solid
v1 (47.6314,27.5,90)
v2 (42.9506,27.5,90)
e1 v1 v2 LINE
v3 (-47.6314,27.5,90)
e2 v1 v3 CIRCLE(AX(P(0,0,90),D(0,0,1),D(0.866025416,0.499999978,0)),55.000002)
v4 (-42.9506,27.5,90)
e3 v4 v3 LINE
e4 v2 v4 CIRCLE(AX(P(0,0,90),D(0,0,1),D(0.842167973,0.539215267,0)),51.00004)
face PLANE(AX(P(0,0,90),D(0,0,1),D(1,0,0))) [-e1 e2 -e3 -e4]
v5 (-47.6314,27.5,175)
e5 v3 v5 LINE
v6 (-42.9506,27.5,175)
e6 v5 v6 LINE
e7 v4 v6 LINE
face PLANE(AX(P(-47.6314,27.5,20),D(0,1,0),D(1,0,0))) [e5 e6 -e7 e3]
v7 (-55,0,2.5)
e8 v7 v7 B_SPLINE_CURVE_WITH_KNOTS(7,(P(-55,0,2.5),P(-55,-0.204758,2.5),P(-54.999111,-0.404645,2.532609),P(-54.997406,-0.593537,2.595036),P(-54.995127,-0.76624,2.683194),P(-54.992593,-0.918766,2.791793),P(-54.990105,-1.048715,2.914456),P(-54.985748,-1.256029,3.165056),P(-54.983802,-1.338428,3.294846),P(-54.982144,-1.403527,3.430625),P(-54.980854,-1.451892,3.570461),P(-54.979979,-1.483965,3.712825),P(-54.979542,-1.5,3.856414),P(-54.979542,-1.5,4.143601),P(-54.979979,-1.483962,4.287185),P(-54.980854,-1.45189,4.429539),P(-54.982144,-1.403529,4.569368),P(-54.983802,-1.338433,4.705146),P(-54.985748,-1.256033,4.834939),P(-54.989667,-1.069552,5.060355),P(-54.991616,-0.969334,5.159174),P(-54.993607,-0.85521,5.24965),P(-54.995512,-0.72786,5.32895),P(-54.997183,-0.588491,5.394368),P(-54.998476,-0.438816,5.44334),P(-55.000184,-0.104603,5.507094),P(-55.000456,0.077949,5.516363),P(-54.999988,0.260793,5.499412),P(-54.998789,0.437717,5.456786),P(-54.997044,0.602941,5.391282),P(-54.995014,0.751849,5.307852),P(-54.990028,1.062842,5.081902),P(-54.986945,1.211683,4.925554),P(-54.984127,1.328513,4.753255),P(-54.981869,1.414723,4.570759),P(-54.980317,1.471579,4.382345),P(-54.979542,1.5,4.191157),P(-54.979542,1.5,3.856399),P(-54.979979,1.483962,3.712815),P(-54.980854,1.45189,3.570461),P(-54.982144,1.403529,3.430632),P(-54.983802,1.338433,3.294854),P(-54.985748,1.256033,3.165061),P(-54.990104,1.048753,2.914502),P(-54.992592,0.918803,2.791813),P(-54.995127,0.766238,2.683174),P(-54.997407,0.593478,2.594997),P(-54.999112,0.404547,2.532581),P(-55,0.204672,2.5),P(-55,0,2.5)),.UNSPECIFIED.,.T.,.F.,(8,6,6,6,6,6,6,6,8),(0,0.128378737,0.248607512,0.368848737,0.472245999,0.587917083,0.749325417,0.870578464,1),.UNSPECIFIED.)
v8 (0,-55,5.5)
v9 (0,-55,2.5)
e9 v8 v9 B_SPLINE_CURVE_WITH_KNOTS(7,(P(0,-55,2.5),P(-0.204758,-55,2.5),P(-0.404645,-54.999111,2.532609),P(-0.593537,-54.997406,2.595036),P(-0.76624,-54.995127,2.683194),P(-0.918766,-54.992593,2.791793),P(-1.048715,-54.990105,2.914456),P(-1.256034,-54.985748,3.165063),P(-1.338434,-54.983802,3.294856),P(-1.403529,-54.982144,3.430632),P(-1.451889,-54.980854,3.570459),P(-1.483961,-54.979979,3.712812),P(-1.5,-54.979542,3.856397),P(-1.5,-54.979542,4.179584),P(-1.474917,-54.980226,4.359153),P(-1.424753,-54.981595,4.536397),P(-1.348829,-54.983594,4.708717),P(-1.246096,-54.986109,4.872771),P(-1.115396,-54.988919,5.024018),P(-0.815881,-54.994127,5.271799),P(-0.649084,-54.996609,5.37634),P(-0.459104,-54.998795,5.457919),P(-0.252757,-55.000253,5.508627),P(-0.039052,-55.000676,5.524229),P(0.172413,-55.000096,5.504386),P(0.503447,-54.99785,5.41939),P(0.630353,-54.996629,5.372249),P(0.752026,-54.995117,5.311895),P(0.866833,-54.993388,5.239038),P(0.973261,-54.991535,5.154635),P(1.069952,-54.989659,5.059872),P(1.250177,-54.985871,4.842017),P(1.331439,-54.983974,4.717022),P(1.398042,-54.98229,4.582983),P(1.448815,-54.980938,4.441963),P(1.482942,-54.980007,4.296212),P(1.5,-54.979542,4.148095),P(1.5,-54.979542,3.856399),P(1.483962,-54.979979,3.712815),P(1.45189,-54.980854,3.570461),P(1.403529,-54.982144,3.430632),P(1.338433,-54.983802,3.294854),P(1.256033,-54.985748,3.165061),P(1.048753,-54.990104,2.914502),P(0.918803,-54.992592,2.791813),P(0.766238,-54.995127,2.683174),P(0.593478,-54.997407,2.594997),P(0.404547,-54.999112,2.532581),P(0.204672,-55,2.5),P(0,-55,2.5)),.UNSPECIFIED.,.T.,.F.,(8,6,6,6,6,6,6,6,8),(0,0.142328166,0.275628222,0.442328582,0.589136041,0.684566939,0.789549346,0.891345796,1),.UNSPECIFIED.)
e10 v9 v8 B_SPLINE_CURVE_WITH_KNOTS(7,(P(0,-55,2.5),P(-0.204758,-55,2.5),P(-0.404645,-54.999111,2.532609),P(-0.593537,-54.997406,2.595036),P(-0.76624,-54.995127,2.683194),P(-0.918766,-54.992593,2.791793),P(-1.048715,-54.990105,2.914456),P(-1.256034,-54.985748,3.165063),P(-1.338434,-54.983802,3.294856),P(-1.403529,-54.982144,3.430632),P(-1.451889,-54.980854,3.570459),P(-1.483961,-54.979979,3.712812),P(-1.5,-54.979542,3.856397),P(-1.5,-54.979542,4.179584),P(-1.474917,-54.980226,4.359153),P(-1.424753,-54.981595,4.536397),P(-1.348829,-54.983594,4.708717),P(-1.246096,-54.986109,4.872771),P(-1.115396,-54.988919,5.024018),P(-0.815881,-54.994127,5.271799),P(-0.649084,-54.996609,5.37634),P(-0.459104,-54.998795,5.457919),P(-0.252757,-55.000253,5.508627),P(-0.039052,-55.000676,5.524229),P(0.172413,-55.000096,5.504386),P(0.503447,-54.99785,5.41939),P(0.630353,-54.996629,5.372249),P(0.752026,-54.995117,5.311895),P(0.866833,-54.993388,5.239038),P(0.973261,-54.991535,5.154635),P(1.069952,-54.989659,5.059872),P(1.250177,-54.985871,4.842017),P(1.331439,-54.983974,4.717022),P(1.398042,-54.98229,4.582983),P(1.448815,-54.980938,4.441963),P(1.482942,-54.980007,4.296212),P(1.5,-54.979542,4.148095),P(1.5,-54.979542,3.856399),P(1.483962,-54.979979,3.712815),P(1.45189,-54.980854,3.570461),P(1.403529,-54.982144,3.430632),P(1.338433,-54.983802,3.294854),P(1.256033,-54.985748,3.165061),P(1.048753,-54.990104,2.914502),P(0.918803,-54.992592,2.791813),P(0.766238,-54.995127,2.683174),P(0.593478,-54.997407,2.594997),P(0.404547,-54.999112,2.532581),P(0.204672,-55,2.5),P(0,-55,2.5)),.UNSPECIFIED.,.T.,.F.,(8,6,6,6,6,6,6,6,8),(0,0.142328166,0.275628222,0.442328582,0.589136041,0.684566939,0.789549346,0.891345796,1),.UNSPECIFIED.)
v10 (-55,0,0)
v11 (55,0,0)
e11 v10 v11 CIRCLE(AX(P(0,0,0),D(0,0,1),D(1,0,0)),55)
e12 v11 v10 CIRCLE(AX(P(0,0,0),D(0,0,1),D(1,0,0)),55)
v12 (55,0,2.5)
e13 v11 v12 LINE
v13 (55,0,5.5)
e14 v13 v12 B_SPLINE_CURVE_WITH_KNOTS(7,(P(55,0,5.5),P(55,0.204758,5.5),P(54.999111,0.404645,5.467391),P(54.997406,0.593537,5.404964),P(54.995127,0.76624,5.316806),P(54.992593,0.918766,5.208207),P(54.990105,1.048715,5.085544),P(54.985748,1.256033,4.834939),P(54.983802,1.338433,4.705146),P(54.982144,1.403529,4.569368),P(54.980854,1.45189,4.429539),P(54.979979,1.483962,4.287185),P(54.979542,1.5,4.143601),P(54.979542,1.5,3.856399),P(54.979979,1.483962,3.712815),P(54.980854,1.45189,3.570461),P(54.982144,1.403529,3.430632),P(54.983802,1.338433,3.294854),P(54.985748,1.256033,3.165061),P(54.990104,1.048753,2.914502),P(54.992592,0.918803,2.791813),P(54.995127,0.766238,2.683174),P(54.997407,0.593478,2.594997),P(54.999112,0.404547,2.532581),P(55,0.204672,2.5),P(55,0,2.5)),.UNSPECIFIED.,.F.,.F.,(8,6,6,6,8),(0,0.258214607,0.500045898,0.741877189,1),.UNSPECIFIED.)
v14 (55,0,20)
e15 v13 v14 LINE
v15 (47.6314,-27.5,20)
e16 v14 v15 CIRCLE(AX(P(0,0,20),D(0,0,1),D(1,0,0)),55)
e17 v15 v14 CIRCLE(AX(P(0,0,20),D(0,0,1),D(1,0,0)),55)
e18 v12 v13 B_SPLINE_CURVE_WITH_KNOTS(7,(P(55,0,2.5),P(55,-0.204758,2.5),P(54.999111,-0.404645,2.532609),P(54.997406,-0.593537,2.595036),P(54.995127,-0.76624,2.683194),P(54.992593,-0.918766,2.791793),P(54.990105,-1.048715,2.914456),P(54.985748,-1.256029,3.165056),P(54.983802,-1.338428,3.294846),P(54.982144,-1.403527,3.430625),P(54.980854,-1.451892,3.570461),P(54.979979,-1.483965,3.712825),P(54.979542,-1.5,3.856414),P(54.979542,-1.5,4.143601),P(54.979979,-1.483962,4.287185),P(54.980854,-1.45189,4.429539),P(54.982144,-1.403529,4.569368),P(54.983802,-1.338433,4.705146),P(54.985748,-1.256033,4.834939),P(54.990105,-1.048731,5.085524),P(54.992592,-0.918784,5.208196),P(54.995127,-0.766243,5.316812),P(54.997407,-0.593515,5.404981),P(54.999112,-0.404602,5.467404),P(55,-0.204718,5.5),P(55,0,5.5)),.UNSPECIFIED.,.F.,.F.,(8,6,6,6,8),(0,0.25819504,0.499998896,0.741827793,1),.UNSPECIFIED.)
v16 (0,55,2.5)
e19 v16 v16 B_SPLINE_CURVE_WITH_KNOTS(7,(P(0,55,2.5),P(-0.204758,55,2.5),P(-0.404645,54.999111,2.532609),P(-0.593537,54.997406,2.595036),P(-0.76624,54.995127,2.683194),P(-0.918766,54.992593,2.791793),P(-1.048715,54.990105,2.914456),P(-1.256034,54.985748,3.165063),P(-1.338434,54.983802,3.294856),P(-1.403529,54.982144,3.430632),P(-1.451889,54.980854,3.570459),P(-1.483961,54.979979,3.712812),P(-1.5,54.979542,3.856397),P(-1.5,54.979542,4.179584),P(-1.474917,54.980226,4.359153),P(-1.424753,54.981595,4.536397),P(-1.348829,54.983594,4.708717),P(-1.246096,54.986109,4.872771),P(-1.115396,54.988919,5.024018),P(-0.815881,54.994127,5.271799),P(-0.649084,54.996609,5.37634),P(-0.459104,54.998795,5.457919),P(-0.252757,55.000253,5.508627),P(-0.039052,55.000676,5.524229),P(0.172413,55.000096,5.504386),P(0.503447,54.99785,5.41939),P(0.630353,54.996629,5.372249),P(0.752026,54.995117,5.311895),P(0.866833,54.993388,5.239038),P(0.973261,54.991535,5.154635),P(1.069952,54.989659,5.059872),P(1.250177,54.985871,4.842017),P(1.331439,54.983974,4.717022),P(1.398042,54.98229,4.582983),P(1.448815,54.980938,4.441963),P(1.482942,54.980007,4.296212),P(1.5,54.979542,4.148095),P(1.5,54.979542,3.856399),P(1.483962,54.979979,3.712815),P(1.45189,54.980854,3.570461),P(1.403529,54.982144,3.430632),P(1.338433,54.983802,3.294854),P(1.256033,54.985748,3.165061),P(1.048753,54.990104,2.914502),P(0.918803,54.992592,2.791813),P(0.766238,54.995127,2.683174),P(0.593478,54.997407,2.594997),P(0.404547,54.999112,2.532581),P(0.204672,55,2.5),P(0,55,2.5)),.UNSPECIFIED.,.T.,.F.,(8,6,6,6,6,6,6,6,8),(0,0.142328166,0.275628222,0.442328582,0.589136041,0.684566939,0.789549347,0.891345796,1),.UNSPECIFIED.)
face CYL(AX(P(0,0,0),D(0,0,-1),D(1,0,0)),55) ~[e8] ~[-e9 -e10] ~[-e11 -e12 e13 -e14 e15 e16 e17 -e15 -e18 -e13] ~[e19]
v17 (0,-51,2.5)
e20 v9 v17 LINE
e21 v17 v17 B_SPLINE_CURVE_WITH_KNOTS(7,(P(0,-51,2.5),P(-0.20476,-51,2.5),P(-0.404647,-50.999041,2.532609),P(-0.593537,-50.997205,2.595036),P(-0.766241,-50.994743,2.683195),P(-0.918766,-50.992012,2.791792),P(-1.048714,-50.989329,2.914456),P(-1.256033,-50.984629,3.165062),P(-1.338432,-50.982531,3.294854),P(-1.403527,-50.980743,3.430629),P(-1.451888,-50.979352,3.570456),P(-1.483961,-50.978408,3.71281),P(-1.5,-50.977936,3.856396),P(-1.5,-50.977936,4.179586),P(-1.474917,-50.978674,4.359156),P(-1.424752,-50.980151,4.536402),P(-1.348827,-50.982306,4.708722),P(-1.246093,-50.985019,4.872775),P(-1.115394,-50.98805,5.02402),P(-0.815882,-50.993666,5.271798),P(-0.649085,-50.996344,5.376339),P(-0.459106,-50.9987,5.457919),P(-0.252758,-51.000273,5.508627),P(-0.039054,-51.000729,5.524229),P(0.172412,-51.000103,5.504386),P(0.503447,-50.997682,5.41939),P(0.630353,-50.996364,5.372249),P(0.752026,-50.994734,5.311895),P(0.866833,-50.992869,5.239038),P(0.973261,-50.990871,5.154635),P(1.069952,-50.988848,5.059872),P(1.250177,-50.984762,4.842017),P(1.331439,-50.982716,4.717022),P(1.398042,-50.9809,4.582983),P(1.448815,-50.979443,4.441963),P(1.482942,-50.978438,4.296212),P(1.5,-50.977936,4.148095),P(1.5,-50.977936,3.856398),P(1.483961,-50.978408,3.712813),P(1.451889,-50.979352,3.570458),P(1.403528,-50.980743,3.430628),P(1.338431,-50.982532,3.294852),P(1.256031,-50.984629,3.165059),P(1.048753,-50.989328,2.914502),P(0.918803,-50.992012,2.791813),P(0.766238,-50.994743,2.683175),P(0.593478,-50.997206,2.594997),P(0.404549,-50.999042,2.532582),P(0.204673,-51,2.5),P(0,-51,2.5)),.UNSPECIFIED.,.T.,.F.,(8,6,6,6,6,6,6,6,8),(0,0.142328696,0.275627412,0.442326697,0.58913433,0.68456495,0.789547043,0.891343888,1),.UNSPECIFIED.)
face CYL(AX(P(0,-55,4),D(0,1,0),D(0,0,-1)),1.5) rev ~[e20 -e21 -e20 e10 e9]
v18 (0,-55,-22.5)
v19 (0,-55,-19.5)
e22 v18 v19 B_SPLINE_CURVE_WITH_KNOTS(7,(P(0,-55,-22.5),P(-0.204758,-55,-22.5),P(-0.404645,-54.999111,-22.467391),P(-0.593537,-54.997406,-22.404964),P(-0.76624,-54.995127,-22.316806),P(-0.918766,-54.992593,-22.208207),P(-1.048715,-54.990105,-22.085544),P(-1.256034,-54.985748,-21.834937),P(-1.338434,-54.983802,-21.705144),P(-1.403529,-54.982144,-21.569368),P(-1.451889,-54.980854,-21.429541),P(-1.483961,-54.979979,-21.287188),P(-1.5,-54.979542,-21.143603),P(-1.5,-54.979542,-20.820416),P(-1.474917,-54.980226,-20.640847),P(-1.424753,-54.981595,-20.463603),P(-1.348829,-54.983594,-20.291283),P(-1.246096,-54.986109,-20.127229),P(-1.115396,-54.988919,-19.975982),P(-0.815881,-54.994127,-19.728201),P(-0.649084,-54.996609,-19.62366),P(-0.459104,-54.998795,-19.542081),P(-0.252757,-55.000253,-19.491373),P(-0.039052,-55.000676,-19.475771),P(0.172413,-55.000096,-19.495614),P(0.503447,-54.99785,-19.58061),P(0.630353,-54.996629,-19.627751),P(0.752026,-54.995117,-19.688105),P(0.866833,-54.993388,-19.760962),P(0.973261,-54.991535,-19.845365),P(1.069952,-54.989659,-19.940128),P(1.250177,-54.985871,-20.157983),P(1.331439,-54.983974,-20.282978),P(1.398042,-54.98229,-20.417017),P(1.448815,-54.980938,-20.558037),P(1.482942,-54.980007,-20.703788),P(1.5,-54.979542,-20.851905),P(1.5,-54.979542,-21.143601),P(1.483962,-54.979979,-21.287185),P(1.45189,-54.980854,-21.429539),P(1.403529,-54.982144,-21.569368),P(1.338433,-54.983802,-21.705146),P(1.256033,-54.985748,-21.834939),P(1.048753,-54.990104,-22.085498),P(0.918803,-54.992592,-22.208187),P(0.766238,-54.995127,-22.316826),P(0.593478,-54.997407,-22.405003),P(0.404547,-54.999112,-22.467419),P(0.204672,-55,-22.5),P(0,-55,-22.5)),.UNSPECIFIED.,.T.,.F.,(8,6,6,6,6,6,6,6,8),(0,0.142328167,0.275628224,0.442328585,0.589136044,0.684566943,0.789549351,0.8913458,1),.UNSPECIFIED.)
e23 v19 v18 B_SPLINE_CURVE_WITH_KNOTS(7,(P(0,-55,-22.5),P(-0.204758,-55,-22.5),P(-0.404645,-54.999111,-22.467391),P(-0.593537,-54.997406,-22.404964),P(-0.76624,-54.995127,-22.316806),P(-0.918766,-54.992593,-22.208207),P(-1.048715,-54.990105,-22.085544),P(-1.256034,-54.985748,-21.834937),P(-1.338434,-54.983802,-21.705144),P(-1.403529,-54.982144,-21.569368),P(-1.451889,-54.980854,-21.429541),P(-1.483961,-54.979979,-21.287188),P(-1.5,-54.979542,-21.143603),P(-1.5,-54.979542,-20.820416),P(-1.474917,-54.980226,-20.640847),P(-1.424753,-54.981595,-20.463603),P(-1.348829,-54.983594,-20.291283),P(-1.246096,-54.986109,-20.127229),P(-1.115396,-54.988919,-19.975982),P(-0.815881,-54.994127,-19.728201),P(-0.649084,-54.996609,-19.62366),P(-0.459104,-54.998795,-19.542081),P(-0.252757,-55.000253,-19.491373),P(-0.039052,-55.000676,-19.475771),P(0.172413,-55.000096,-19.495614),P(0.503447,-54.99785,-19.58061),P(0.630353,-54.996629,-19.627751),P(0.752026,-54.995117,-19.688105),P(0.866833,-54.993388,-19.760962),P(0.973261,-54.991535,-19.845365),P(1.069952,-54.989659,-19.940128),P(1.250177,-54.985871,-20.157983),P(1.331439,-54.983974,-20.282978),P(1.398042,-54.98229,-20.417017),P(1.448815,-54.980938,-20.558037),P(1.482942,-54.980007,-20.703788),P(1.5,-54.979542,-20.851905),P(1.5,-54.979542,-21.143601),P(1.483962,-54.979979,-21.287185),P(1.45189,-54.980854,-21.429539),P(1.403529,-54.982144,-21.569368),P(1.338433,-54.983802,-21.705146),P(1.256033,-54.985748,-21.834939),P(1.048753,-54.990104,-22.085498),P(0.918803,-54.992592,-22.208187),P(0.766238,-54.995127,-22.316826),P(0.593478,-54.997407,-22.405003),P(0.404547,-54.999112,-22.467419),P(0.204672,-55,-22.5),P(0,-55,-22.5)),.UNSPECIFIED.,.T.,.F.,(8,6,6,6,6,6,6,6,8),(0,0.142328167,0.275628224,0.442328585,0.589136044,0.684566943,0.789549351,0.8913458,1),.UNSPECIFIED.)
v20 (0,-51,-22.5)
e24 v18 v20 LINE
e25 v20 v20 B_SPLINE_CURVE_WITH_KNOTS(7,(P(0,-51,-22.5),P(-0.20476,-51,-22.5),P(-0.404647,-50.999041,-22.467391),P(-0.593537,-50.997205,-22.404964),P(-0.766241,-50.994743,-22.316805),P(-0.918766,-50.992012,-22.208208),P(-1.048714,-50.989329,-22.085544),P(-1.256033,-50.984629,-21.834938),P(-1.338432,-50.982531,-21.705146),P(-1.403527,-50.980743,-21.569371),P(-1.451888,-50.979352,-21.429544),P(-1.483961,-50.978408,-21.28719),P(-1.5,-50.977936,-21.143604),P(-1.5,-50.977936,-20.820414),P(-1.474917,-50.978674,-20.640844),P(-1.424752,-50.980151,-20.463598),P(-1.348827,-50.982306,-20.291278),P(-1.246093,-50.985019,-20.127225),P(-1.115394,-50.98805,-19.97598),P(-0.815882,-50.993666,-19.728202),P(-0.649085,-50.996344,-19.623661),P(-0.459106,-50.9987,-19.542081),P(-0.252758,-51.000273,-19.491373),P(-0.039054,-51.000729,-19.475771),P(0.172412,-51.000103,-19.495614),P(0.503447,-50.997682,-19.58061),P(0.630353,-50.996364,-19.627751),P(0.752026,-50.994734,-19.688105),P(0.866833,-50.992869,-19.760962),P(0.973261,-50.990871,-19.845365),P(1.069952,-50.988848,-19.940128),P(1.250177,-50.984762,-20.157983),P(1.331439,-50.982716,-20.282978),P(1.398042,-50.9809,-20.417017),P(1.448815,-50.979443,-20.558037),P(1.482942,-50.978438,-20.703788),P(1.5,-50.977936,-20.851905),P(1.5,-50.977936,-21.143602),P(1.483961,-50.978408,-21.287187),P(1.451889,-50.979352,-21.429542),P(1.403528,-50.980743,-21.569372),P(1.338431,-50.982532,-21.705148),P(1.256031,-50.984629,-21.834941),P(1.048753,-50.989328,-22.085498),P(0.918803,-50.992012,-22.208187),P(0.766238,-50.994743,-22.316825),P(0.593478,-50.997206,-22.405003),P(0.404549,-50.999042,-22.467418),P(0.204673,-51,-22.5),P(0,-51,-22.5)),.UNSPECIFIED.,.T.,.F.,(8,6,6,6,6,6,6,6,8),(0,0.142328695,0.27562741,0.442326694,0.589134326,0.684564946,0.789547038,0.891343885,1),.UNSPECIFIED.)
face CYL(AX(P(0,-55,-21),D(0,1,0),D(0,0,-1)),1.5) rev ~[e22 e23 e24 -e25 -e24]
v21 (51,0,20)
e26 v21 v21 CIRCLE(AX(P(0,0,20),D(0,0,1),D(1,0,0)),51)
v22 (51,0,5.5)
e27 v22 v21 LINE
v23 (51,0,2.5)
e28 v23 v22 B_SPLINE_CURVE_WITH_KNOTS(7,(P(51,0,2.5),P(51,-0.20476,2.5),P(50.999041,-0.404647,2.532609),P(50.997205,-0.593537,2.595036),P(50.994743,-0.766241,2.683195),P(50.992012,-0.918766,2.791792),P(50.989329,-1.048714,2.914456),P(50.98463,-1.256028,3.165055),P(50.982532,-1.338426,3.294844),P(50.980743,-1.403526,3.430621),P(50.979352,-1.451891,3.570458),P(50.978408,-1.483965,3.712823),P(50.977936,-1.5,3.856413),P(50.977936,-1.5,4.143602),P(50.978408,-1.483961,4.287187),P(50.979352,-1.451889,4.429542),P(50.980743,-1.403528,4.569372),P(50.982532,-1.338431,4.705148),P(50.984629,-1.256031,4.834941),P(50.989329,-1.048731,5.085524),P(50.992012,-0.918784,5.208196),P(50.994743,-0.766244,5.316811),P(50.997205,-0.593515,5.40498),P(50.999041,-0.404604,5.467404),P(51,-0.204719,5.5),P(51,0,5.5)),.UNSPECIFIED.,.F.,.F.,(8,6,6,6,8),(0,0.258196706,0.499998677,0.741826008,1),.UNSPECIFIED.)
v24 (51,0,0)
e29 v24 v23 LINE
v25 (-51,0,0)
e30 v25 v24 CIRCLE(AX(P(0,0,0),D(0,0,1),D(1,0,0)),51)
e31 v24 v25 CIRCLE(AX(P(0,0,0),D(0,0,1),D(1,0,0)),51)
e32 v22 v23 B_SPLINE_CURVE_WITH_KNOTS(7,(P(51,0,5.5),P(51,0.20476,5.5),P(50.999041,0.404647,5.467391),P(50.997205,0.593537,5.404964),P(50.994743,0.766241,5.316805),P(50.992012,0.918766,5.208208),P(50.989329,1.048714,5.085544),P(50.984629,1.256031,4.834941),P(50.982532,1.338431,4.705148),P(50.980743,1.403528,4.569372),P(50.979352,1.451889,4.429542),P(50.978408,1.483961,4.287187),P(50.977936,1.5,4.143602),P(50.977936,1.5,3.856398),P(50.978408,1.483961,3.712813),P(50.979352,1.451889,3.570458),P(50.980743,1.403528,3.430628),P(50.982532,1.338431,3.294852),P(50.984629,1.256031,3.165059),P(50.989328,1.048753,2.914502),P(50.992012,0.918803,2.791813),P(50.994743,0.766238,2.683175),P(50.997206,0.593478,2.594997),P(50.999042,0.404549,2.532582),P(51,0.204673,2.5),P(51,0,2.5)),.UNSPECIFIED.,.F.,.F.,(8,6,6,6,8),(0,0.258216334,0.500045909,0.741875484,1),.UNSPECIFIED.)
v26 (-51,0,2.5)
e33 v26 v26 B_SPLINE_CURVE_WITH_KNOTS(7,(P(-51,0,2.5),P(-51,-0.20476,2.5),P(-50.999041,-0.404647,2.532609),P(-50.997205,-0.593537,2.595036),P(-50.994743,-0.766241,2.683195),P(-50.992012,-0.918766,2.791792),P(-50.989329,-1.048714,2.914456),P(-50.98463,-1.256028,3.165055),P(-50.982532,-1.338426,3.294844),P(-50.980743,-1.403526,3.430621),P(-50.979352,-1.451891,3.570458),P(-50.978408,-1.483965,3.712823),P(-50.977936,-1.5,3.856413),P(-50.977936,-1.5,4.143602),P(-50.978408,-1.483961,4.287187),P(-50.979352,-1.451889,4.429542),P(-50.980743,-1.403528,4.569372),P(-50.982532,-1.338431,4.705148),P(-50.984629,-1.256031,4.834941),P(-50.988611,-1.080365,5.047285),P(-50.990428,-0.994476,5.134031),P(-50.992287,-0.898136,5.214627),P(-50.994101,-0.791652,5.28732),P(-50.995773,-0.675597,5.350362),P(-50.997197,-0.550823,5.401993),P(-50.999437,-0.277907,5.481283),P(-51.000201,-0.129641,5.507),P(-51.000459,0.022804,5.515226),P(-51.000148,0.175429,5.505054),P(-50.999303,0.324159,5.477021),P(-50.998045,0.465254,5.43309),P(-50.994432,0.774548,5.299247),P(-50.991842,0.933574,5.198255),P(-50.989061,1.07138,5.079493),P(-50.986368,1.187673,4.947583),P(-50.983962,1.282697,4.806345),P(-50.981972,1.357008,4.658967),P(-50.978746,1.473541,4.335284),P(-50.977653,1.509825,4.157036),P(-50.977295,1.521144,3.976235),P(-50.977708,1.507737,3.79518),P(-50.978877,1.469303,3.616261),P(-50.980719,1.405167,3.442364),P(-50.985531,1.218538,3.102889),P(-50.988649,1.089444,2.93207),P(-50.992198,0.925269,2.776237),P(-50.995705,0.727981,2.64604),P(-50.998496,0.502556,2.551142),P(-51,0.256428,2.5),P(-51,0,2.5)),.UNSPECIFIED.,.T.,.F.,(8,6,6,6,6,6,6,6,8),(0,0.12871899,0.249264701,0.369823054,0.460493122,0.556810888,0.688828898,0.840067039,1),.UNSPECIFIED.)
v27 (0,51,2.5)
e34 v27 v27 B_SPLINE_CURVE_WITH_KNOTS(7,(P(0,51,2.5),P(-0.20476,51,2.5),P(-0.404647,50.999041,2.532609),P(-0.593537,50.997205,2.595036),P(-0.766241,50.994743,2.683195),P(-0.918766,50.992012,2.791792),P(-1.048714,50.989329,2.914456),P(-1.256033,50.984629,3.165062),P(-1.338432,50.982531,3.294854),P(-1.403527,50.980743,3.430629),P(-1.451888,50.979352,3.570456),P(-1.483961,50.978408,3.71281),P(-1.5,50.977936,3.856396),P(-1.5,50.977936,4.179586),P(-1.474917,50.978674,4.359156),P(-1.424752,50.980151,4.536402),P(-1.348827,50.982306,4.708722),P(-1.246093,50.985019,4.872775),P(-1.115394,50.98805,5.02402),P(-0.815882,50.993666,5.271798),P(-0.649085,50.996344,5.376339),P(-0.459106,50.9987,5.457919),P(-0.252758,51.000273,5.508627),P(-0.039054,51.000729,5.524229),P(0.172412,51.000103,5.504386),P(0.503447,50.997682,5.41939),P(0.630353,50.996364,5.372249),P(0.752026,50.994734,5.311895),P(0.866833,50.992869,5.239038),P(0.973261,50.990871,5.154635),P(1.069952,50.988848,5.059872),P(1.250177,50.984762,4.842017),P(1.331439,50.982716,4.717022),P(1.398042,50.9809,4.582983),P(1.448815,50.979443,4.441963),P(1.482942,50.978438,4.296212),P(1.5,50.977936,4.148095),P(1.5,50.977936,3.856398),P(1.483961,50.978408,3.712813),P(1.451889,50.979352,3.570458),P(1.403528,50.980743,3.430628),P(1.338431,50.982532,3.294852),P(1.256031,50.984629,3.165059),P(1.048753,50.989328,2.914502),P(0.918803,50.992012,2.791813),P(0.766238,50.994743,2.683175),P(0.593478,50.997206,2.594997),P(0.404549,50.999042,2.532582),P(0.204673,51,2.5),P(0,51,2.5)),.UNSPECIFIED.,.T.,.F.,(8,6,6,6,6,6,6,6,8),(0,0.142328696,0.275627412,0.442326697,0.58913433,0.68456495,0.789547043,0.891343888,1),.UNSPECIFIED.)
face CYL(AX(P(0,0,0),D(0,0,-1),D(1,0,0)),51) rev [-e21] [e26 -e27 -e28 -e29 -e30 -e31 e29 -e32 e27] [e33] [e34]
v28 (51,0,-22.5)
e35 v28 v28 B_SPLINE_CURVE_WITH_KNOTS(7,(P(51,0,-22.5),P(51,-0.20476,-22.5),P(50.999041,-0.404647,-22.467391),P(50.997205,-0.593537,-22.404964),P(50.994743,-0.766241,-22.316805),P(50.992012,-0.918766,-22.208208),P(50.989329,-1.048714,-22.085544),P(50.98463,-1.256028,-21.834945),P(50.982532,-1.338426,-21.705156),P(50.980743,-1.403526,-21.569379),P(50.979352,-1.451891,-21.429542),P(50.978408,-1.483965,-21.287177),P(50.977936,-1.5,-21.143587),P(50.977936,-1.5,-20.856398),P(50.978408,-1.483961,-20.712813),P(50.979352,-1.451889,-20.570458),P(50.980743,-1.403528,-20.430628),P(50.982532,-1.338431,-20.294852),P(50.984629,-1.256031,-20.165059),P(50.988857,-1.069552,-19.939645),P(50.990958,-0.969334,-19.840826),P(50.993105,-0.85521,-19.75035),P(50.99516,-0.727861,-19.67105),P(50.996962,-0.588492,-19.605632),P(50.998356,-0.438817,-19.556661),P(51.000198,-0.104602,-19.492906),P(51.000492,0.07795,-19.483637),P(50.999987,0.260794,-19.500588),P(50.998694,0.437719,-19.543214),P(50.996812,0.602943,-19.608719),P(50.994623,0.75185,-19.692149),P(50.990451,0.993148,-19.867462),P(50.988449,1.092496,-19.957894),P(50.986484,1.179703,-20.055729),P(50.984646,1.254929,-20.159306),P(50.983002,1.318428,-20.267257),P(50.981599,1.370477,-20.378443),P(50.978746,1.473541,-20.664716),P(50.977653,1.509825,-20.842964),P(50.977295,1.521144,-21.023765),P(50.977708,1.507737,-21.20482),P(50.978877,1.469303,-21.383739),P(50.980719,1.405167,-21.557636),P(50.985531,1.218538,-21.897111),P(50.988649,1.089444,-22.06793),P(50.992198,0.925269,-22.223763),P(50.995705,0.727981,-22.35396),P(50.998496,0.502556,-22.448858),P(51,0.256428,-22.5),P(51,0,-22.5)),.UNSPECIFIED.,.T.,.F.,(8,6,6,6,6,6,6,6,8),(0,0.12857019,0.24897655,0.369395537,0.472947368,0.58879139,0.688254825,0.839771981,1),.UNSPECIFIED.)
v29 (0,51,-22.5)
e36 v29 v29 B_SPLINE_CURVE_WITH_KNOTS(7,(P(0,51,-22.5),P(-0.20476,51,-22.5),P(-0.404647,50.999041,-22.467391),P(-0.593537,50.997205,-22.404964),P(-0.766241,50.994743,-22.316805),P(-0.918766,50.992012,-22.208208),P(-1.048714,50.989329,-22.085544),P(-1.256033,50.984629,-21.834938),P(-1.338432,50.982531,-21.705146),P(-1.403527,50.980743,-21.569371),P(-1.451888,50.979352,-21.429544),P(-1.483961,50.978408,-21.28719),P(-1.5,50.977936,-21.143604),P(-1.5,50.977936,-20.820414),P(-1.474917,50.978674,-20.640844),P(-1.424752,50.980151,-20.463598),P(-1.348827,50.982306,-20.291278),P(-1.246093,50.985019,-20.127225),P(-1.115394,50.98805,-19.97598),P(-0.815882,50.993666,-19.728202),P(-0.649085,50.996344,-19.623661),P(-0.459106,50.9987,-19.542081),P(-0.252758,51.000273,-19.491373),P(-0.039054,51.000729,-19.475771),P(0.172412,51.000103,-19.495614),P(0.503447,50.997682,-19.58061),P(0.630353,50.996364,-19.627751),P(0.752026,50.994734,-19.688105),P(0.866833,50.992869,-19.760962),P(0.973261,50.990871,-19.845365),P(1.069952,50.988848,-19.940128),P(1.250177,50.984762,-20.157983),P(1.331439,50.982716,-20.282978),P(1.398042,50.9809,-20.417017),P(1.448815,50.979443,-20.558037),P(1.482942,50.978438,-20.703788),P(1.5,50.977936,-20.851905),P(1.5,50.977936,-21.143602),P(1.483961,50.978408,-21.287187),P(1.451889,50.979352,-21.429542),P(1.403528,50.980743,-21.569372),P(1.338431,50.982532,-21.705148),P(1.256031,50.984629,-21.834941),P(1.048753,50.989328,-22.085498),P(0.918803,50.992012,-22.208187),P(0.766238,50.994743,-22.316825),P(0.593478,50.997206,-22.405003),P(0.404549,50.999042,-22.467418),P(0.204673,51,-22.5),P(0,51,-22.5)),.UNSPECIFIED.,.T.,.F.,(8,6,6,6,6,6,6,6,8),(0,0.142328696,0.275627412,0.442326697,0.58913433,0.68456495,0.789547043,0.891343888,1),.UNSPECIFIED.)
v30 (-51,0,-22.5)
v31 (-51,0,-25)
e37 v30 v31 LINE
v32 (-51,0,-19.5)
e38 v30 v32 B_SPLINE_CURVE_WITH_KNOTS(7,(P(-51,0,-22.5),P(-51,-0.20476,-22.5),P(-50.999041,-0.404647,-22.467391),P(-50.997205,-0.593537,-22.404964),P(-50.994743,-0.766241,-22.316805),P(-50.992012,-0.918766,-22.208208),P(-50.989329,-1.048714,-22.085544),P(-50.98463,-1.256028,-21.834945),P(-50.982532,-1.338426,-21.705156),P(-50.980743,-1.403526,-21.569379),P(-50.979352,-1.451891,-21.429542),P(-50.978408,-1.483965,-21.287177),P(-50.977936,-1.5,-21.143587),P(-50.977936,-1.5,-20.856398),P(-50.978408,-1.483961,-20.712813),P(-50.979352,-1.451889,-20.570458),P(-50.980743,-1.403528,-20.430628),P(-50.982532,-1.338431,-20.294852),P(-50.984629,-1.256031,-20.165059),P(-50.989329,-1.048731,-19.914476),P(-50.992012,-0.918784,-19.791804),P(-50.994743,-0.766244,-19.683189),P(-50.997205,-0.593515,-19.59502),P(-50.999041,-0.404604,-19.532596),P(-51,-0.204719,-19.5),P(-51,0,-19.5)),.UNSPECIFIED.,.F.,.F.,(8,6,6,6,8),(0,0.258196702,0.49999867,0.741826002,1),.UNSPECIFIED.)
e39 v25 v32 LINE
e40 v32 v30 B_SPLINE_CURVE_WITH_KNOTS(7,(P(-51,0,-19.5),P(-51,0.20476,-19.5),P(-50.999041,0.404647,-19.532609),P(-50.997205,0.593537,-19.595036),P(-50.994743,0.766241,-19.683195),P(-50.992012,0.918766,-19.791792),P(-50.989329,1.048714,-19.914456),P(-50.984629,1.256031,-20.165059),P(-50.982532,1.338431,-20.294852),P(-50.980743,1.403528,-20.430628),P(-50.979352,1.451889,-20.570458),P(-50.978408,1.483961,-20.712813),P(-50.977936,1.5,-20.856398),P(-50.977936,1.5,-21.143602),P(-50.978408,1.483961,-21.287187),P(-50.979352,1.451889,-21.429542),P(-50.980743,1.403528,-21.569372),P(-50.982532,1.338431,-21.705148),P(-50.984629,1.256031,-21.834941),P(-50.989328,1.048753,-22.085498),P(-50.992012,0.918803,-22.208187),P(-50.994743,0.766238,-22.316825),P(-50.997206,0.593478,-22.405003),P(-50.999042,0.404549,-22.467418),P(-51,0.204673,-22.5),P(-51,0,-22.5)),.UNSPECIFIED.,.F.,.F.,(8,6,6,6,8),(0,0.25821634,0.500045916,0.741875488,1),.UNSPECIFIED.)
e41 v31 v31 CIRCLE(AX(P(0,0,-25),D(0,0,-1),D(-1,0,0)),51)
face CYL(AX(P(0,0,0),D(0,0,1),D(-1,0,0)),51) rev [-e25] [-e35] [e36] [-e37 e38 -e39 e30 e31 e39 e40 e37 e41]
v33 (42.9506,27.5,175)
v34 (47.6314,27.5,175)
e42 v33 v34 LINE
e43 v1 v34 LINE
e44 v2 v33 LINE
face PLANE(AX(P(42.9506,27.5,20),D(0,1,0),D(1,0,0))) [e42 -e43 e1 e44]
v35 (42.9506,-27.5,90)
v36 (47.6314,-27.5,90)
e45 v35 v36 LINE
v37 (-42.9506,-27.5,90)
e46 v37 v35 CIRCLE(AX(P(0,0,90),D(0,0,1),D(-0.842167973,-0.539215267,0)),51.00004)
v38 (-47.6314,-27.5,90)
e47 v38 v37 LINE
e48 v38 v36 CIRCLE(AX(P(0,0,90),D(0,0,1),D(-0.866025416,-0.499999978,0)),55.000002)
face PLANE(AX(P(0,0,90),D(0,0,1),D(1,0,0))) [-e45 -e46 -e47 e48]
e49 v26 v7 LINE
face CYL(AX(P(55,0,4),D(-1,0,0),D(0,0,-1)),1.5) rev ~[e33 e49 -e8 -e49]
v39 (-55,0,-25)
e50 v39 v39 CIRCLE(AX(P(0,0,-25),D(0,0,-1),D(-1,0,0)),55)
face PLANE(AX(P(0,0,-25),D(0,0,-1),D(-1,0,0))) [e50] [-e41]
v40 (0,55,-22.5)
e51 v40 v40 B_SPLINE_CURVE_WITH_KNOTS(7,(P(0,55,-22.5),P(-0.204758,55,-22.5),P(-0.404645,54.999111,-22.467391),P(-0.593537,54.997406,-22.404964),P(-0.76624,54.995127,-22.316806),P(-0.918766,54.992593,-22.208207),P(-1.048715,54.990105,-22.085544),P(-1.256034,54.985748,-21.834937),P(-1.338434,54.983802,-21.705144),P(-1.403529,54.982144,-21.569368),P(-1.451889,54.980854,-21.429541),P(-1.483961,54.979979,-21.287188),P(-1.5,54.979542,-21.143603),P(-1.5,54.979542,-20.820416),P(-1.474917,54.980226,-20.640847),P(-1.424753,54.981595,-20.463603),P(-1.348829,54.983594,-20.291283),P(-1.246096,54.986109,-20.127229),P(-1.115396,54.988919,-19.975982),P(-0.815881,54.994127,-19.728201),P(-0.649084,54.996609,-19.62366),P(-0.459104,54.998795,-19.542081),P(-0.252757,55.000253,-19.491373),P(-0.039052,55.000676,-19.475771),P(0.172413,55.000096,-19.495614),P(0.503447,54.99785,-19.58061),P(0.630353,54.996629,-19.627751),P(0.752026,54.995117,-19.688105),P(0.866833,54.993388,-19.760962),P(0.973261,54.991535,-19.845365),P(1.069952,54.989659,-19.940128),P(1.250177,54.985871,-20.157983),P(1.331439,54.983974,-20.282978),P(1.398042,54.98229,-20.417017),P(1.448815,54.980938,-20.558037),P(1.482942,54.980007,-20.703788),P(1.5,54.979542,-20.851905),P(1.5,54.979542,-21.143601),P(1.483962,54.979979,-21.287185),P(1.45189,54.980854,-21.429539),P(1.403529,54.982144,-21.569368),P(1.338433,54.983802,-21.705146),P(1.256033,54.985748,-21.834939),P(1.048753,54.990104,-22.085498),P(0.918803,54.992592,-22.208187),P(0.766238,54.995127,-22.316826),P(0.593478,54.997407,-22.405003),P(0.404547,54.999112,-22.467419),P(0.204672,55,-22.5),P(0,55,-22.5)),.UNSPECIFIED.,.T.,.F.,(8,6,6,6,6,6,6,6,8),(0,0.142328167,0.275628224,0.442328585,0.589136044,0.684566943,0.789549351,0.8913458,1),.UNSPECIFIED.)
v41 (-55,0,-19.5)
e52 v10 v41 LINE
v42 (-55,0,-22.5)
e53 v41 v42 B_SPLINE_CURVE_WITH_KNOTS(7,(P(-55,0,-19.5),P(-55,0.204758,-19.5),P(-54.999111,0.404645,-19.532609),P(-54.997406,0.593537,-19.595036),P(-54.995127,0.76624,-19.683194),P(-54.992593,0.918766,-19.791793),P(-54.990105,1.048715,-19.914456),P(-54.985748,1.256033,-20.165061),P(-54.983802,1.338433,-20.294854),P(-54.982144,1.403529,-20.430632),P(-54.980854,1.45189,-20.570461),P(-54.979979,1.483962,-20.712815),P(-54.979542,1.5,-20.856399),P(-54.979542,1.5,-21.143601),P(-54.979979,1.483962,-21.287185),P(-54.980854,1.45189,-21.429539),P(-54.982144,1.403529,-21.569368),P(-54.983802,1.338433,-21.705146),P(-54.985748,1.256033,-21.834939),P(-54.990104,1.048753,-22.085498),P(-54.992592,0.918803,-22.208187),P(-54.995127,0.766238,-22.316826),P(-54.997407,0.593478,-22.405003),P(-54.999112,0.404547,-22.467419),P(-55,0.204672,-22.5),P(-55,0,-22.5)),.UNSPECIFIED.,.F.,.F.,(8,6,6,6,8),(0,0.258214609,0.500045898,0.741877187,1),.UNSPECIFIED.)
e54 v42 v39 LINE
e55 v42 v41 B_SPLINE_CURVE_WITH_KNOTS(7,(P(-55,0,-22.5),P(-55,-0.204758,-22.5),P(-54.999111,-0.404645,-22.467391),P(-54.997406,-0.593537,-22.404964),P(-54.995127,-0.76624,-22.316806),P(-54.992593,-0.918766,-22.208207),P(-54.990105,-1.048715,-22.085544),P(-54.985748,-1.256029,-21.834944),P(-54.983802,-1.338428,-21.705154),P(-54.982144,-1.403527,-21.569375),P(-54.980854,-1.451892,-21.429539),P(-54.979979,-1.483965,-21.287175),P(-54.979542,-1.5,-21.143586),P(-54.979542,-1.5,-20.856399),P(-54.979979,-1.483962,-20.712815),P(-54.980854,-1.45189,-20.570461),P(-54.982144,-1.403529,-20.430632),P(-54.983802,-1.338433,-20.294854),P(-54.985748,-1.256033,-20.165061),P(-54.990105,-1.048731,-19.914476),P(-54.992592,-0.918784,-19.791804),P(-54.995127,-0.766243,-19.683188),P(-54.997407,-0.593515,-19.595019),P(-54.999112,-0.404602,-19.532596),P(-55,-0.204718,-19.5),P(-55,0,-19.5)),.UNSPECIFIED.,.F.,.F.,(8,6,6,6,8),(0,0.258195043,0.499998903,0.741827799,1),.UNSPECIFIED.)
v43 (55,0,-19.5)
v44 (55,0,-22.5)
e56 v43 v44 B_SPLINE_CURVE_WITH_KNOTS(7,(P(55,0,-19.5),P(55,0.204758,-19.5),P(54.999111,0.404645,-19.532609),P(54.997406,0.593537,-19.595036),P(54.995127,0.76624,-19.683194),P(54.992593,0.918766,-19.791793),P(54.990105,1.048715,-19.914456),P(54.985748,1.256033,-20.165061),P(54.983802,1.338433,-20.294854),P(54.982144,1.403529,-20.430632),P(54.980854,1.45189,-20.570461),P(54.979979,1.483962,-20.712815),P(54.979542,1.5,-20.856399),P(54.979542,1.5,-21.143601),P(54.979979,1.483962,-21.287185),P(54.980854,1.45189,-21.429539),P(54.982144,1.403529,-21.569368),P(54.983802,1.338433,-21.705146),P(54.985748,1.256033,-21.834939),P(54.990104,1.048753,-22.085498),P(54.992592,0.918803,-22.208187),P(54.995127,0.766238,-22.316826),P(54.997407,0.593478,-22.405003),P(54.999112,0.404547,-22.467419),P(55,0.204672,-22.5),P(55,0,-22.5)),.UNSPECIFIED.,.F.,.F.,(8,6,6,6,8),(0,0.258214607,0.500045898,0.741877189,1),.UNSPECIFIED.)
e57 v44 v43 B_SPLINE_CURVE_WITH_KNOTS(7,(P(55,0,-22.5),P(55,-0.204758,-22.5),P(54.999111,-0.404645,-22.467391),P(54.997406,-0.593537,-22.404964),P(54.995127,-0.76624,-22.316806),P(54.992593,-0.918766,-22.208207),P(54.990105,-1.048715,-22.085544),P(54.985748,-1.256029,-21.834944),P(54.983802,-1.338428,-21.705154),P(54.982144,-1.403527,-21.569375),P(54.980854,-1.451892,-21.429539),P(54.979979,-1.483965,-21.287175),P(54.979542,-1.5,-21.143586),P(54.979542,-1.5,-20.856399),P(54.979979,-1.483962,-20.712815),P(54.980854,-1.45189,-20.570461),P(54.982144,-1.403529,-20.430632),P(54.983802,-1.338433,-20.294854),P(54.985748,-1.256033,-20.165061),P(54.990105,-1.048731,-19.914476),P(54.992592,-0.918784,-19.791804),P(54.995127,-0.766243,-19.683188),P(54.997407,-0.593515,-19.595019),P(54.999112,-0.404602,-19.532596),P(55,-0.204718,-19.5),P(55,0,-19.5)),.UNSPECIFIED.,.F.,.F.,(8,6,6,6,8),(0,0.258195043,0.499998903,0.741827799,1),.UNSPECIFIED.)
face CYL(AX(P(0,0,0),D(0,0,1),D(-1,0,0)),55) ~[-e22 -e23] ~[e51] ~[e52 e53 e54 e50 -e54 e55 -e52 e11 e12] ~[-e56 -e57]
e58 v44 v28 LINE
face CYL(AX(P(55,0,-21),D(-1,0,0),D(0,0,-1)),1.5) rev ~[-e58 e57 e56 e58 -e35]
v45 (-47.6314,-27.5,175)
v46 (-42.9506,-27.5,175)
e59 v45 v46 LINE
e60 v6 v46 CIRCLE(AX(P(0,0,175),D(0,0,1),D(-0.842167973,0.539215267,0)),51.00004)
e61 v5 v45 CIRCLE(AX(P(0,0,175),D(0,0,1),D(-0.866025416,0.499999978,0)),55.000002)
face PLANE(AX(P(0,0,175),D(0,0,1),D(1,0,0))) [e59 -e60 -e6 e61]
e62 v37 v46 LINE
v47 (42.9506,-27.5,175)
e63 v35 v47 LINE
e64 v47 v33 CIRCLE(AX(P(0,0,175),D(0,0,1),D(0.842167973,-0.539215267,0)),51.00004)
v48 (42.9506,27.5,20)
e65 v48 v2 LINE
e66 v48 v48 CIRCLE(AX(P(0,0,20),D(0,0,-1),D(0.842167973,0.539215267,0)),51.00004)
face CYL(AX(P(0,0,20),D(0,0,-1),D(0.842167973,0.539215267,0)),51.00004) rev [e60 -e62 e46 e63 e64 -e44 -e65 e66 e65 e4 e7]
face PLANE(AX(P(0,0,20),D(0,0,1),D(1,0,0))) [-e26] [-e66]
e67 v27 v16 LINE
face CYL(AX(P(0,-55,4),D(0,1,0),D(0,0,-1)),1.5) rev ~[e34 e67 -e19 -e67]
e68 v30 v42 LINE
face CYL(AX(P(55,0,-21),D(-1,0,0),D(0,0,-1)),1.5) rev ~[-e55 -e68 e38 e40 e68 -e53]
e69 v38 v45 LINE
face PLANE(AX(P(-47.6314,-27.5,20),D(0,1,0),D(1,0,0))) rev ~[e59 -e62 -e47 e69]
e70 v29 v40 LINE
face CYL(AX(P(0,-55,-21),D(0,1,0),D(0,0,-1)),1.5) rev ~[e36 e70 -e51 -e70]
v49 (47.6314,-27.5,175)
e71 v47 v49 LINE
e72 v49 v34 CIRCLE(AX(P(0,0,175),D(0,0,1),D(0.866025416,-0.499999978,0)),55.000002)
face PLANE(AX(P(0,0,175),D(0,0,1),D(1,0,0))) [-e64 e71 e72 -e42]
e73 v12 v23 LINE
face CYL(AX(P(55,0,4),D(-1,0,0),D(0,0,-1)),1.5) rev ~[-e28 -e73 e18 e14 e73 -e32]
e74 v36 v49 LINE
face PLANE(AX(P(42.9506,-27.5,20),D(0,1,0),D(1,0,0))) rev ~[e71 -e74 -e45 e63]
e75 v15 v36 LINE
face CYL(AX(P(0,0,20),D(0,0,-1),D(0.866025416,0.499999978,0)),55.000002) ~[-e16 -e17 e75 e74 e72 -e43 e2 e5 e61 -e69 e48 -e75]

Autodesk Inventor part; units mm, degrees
sketch "スケッチ1" plane through (0, 0, 0) normal (0, 0, 1) x (1, 0, 0)
  circle A0 centre (0, 0) radius 51
  circle A1 centre (0, 0) radius 55
  line L0 (0, 0) -> (47.6314, 27.5) construction
  line L1 (0, 0) -> (55, 0) construction
  line L2 (0, 0) -> (-47.6314, 27.5) construction
  line L3 (0, 0) -> (55, 0) construction
  dimension "d0" = 102
  dimension "d1" = 110
  dimension "d2" = 30
  dimension "d3" = 150
extrude "押し出し1" add sketch "スケッチ1" along normal blind 20
sketch "スケッチ2" plane through (0, 0, 20) normal (0, 0, 1) x (1, 0, 0)
  line L0 (0, 0) -> (47.6314, 27.5) construction
  circle A0 centre (0, 0) radius 55 construction
  line L1 (0, 0) -> (55, 0) construction
  line L2 (0, 0) -> (-47.6314, 27.5) construction
  line L3 (0, 0) -> (55, 0) construction
  line L4 (0, 0) -> (47.6314, -27.5) construction
  line L5 (0, 0) -> (55, 0) construction
  line L6 (0, 0) -> (-47.6314, -27.5) construction
  line L7 (0, 0) -> (55, 0) construction
  arc A1 (-47.6314, 27.5) -> (-47.6314, -27.5) centre (0, 0) ccw
  arc A2 (47.6314, -27.5) -> (47.6314, 27.5) centre (0, 0) ccw
  arc A3 (-42.9506, 27.5) -> (-42.9506, -27.5) centre (0, 0) ccw
  arc A4 (42.9506, -27.5) -> (42.9506, 27.5) centre (0, 0) ccw
  line L8 (-47.6314, 27.5) -> (-42.9506, 27.5)
  line L9 (42.9506, 27.5) -> (47.6314, 27.5)
  line L10 (-47.6314, -27.5) -> (-42.9506, -27.5)
  line L11 (42.9506, -27.5) -> (47.6314, -27.5)
  dimension "d6" = 30
  dimension "d7" = 150
  dimension "d43" = 30
  dimension "d44" = 150
  dimension "d55" = 51
  dimension "d56" = 51
ref_plane "作業平面1" through (55, 0, 0) normal (1, 0, 0) x (0, 1, 0)
ref_plane "作業平面2" through (-55, 0, 0) normal (1, 0, 0) x (0, 1, 0)
ref_plane "作業平面3" through (0, 55, 0) normal (0, 1, 0) x (-1, 0, 0)
ref_plane "作業平面4" through (0, -55, 0) normal (0, 1, 0) x (-1, 0, 0)
sketch "スケッチ3" plane through (55, 0, 0) normal (1, 0, 0) x (0, 1, 0)
  line L0 (0, 0) -> (0, 4) construction
  circle A0 centre (0, 4) radius 1.5
  dimension "d14" = 4
  dimension "d15" = 3
sketch "スケッチ4" plane through (0, 55, 0) normal (0, 1, 0) x (-1, 0, 0)
  line L0 (0, 0) -> (0, 4) construction
  circle A0 centre (0, 4) radius 1.5
  dimension "d18" = 4
  dimension "d19" = 3
sketch "スケッチ5" plane through (-55, 0, 0) normal (1, 0, 0) x (0, 1, 0)
  line L0 (0, 0) -> (0, 4) construction
  circle A0 centre (0, 4) radius 1.5
  dimension "d22" = 4
  dimension "d23" = 3
sketch "スケッチ6" plane through (0, -55, 0) normal (0, 1, 0) x (-1, 0, 0)
  line L0 (0, 0) -> (0, 4) construction
  circle A0 centre (0, 4) radius 1.5
  dimension "d26" = 4
  dimension "d27" = 3
ref_plane "作業平面5" through (55, 0, 0) normal (1, 0, 0) x (0, 1, 0)
extrude "押し出し9" add sketch "スケッチ2" along normal blind 155
sketch "スケッチ9" plane through (55, 0, 0) normal (1, 0, 0) x (0, 1, 0)
  line L0 (0, 0) -> (0, 12) construction
  line L1 (0, 12) -> (-3.5, 12) construction
  line L2 (-3.5, 12) -> (-13.5, 12)
  line L3 (-13.5, 12) -> (-13.5, 20)
  line L4 (-13.5, 20) -> (-3.5, 20)
  line L5 (-3.5, 20) -> (-3.5, 12)
  dimension "d49" = 12
  dimension "d50" = 3.5
  dimension "d51" = 10
  dimension "d52" = 8
sketch "スケッチ10" plane through (0, 0, 0) normal (0, 0, -1) x (-1, 0, 0)
  circle A0 centre (0, 0) radius 51
  circle A1 centre (0, 0) radius 55
extrude "押し出し12" add sketch "スケッチ10" along normal blind 25
sketch "スケッチ11" plane through (0, 0, 20) normal (0, 0, 1) x (1, 0, 0)
  line L0 (47.6314, -27.5) -> (42.9506, -27.5) construction
  line L1 (0, 0) -> (47.6314, -27.5) construction
  line L2 (0, 0) -> (55, 0) construction
  line L3 (0, 0) -> (-47.6314, -27.5) construction
  line L4 (0, 0) -> (55, 0) construction
  arc A0 (-47.6314, -27.5) -> (47.6314, -27.5) centre (0, 0) ccw
  arc A1 (-42.9506, -27.5) -> (42.9506, -27.5) centre (0, 0) ccw projected
  arc A2 (42.9506, -27.5) -> (42.9506, -27.5) centre (0, 0) ccw
  line L5 (-47.6314, -27.5) -> (-42.9506, -27.5)
  line L6 (42.9506, -27.5) -> (47.6314, -27.5)
  dimension "d59" = 30
  dimension "d60" = 150
extrude "押し出し13" add sketch "スケッチ11" along normal blind 70 contours L5 A1 L6 A0
sketch "スケッチ12" plane through (55, 0, 0) normal (1, 0, 0) x (0, 1, 0)
  line L0 (0, 0) -> (0, -21) construction
  line L1 (51, -25) -> (-51, -25) construction
  circle A0 centre (0, -21) radius 1.5
  dimension "d63" = 21
  dimension "d64" = 3
sketch "スケッチ13" plane through (-55, 0, 0) normal (1, 0, 0) x (0, 1, 0)
  line L0 (0, 0) -> (0, -21) construction
  circle A0 centre (0, -21) radius 1.5
  dimension "d67" = 21
  dimension "d68" = 3
sketch "スケッチ14" plane through (0, 55, 0) normal (0, 1, 0) x (-1, 0, 0)
  line L0 (0, 0) -> (0, -21) construction
  circle A0 centre (0, -21) radius 1.5
  dimension "d71" = 21
  dimension "d72" = 3
sketch "スケッチ15" plane through (0, -55, 0) normal (0, 1, 0) x (-1, 0, 0)
  line L0 (0, 0) -> (0, -21) construction
  circle A0 centre (0, -21) radius 1.5
  dimension "d75" = 21
  dimension "d76" = 3
sketch "スケッチ16" plane through (0, 0, 20) normal (0, 0, 1) x (1, 0, 0)
  line L0 (-47.6314, 27.5) -> (-42.9506, 27.5) construction
  line L1 (0, 0) -> (-47.6314, 27.5) construction
  line L2 (0, 0) -> (-55, 0) construction
  line L3 (0, 0) -> (47.6314, 27.5) construction
  line L4 (0, 0) -> (-55, 0) construction
  arc A0 (47.6314, 27.5) -> (-47.6314, 27.5) centre (0, 0) ccw
  arc A1 (42.9506, 27.5) -> (-42.9506, 27.5) centre (0, 0) ccw
  arc A2 (-42.9506, 27.5) -> (-42.9506, 27.5) centre (0, 0) ccw
  line L5 (47.6314, 27.5) -> (42.9506, 27.5)
  line L6 (-42.9506, 27.5) -> (-47.6314, 27.5)
  dimension "d79" = 30
  dimension "d80" = 150
extrude "押し出し18" add sketch "スケッチ16" along normal blind 70 contours L5 A1 L6 A0
hole "穴9" at (55, 0, 4) direction (-1, 0, 0) diameter 3 end through all
hole "穴10" at (55, 0, -21) direction (-1, 0, 0) diameter 3 end through all
hole "穴11" at (0, -55, 4) direction (0, 1, 0) diameter 3 end through all
hole "穴12" at (0, -55, -21) direction (0, 1, 0) diameter 3 end through all
properties part number "outsideCover" material "ガラス"
